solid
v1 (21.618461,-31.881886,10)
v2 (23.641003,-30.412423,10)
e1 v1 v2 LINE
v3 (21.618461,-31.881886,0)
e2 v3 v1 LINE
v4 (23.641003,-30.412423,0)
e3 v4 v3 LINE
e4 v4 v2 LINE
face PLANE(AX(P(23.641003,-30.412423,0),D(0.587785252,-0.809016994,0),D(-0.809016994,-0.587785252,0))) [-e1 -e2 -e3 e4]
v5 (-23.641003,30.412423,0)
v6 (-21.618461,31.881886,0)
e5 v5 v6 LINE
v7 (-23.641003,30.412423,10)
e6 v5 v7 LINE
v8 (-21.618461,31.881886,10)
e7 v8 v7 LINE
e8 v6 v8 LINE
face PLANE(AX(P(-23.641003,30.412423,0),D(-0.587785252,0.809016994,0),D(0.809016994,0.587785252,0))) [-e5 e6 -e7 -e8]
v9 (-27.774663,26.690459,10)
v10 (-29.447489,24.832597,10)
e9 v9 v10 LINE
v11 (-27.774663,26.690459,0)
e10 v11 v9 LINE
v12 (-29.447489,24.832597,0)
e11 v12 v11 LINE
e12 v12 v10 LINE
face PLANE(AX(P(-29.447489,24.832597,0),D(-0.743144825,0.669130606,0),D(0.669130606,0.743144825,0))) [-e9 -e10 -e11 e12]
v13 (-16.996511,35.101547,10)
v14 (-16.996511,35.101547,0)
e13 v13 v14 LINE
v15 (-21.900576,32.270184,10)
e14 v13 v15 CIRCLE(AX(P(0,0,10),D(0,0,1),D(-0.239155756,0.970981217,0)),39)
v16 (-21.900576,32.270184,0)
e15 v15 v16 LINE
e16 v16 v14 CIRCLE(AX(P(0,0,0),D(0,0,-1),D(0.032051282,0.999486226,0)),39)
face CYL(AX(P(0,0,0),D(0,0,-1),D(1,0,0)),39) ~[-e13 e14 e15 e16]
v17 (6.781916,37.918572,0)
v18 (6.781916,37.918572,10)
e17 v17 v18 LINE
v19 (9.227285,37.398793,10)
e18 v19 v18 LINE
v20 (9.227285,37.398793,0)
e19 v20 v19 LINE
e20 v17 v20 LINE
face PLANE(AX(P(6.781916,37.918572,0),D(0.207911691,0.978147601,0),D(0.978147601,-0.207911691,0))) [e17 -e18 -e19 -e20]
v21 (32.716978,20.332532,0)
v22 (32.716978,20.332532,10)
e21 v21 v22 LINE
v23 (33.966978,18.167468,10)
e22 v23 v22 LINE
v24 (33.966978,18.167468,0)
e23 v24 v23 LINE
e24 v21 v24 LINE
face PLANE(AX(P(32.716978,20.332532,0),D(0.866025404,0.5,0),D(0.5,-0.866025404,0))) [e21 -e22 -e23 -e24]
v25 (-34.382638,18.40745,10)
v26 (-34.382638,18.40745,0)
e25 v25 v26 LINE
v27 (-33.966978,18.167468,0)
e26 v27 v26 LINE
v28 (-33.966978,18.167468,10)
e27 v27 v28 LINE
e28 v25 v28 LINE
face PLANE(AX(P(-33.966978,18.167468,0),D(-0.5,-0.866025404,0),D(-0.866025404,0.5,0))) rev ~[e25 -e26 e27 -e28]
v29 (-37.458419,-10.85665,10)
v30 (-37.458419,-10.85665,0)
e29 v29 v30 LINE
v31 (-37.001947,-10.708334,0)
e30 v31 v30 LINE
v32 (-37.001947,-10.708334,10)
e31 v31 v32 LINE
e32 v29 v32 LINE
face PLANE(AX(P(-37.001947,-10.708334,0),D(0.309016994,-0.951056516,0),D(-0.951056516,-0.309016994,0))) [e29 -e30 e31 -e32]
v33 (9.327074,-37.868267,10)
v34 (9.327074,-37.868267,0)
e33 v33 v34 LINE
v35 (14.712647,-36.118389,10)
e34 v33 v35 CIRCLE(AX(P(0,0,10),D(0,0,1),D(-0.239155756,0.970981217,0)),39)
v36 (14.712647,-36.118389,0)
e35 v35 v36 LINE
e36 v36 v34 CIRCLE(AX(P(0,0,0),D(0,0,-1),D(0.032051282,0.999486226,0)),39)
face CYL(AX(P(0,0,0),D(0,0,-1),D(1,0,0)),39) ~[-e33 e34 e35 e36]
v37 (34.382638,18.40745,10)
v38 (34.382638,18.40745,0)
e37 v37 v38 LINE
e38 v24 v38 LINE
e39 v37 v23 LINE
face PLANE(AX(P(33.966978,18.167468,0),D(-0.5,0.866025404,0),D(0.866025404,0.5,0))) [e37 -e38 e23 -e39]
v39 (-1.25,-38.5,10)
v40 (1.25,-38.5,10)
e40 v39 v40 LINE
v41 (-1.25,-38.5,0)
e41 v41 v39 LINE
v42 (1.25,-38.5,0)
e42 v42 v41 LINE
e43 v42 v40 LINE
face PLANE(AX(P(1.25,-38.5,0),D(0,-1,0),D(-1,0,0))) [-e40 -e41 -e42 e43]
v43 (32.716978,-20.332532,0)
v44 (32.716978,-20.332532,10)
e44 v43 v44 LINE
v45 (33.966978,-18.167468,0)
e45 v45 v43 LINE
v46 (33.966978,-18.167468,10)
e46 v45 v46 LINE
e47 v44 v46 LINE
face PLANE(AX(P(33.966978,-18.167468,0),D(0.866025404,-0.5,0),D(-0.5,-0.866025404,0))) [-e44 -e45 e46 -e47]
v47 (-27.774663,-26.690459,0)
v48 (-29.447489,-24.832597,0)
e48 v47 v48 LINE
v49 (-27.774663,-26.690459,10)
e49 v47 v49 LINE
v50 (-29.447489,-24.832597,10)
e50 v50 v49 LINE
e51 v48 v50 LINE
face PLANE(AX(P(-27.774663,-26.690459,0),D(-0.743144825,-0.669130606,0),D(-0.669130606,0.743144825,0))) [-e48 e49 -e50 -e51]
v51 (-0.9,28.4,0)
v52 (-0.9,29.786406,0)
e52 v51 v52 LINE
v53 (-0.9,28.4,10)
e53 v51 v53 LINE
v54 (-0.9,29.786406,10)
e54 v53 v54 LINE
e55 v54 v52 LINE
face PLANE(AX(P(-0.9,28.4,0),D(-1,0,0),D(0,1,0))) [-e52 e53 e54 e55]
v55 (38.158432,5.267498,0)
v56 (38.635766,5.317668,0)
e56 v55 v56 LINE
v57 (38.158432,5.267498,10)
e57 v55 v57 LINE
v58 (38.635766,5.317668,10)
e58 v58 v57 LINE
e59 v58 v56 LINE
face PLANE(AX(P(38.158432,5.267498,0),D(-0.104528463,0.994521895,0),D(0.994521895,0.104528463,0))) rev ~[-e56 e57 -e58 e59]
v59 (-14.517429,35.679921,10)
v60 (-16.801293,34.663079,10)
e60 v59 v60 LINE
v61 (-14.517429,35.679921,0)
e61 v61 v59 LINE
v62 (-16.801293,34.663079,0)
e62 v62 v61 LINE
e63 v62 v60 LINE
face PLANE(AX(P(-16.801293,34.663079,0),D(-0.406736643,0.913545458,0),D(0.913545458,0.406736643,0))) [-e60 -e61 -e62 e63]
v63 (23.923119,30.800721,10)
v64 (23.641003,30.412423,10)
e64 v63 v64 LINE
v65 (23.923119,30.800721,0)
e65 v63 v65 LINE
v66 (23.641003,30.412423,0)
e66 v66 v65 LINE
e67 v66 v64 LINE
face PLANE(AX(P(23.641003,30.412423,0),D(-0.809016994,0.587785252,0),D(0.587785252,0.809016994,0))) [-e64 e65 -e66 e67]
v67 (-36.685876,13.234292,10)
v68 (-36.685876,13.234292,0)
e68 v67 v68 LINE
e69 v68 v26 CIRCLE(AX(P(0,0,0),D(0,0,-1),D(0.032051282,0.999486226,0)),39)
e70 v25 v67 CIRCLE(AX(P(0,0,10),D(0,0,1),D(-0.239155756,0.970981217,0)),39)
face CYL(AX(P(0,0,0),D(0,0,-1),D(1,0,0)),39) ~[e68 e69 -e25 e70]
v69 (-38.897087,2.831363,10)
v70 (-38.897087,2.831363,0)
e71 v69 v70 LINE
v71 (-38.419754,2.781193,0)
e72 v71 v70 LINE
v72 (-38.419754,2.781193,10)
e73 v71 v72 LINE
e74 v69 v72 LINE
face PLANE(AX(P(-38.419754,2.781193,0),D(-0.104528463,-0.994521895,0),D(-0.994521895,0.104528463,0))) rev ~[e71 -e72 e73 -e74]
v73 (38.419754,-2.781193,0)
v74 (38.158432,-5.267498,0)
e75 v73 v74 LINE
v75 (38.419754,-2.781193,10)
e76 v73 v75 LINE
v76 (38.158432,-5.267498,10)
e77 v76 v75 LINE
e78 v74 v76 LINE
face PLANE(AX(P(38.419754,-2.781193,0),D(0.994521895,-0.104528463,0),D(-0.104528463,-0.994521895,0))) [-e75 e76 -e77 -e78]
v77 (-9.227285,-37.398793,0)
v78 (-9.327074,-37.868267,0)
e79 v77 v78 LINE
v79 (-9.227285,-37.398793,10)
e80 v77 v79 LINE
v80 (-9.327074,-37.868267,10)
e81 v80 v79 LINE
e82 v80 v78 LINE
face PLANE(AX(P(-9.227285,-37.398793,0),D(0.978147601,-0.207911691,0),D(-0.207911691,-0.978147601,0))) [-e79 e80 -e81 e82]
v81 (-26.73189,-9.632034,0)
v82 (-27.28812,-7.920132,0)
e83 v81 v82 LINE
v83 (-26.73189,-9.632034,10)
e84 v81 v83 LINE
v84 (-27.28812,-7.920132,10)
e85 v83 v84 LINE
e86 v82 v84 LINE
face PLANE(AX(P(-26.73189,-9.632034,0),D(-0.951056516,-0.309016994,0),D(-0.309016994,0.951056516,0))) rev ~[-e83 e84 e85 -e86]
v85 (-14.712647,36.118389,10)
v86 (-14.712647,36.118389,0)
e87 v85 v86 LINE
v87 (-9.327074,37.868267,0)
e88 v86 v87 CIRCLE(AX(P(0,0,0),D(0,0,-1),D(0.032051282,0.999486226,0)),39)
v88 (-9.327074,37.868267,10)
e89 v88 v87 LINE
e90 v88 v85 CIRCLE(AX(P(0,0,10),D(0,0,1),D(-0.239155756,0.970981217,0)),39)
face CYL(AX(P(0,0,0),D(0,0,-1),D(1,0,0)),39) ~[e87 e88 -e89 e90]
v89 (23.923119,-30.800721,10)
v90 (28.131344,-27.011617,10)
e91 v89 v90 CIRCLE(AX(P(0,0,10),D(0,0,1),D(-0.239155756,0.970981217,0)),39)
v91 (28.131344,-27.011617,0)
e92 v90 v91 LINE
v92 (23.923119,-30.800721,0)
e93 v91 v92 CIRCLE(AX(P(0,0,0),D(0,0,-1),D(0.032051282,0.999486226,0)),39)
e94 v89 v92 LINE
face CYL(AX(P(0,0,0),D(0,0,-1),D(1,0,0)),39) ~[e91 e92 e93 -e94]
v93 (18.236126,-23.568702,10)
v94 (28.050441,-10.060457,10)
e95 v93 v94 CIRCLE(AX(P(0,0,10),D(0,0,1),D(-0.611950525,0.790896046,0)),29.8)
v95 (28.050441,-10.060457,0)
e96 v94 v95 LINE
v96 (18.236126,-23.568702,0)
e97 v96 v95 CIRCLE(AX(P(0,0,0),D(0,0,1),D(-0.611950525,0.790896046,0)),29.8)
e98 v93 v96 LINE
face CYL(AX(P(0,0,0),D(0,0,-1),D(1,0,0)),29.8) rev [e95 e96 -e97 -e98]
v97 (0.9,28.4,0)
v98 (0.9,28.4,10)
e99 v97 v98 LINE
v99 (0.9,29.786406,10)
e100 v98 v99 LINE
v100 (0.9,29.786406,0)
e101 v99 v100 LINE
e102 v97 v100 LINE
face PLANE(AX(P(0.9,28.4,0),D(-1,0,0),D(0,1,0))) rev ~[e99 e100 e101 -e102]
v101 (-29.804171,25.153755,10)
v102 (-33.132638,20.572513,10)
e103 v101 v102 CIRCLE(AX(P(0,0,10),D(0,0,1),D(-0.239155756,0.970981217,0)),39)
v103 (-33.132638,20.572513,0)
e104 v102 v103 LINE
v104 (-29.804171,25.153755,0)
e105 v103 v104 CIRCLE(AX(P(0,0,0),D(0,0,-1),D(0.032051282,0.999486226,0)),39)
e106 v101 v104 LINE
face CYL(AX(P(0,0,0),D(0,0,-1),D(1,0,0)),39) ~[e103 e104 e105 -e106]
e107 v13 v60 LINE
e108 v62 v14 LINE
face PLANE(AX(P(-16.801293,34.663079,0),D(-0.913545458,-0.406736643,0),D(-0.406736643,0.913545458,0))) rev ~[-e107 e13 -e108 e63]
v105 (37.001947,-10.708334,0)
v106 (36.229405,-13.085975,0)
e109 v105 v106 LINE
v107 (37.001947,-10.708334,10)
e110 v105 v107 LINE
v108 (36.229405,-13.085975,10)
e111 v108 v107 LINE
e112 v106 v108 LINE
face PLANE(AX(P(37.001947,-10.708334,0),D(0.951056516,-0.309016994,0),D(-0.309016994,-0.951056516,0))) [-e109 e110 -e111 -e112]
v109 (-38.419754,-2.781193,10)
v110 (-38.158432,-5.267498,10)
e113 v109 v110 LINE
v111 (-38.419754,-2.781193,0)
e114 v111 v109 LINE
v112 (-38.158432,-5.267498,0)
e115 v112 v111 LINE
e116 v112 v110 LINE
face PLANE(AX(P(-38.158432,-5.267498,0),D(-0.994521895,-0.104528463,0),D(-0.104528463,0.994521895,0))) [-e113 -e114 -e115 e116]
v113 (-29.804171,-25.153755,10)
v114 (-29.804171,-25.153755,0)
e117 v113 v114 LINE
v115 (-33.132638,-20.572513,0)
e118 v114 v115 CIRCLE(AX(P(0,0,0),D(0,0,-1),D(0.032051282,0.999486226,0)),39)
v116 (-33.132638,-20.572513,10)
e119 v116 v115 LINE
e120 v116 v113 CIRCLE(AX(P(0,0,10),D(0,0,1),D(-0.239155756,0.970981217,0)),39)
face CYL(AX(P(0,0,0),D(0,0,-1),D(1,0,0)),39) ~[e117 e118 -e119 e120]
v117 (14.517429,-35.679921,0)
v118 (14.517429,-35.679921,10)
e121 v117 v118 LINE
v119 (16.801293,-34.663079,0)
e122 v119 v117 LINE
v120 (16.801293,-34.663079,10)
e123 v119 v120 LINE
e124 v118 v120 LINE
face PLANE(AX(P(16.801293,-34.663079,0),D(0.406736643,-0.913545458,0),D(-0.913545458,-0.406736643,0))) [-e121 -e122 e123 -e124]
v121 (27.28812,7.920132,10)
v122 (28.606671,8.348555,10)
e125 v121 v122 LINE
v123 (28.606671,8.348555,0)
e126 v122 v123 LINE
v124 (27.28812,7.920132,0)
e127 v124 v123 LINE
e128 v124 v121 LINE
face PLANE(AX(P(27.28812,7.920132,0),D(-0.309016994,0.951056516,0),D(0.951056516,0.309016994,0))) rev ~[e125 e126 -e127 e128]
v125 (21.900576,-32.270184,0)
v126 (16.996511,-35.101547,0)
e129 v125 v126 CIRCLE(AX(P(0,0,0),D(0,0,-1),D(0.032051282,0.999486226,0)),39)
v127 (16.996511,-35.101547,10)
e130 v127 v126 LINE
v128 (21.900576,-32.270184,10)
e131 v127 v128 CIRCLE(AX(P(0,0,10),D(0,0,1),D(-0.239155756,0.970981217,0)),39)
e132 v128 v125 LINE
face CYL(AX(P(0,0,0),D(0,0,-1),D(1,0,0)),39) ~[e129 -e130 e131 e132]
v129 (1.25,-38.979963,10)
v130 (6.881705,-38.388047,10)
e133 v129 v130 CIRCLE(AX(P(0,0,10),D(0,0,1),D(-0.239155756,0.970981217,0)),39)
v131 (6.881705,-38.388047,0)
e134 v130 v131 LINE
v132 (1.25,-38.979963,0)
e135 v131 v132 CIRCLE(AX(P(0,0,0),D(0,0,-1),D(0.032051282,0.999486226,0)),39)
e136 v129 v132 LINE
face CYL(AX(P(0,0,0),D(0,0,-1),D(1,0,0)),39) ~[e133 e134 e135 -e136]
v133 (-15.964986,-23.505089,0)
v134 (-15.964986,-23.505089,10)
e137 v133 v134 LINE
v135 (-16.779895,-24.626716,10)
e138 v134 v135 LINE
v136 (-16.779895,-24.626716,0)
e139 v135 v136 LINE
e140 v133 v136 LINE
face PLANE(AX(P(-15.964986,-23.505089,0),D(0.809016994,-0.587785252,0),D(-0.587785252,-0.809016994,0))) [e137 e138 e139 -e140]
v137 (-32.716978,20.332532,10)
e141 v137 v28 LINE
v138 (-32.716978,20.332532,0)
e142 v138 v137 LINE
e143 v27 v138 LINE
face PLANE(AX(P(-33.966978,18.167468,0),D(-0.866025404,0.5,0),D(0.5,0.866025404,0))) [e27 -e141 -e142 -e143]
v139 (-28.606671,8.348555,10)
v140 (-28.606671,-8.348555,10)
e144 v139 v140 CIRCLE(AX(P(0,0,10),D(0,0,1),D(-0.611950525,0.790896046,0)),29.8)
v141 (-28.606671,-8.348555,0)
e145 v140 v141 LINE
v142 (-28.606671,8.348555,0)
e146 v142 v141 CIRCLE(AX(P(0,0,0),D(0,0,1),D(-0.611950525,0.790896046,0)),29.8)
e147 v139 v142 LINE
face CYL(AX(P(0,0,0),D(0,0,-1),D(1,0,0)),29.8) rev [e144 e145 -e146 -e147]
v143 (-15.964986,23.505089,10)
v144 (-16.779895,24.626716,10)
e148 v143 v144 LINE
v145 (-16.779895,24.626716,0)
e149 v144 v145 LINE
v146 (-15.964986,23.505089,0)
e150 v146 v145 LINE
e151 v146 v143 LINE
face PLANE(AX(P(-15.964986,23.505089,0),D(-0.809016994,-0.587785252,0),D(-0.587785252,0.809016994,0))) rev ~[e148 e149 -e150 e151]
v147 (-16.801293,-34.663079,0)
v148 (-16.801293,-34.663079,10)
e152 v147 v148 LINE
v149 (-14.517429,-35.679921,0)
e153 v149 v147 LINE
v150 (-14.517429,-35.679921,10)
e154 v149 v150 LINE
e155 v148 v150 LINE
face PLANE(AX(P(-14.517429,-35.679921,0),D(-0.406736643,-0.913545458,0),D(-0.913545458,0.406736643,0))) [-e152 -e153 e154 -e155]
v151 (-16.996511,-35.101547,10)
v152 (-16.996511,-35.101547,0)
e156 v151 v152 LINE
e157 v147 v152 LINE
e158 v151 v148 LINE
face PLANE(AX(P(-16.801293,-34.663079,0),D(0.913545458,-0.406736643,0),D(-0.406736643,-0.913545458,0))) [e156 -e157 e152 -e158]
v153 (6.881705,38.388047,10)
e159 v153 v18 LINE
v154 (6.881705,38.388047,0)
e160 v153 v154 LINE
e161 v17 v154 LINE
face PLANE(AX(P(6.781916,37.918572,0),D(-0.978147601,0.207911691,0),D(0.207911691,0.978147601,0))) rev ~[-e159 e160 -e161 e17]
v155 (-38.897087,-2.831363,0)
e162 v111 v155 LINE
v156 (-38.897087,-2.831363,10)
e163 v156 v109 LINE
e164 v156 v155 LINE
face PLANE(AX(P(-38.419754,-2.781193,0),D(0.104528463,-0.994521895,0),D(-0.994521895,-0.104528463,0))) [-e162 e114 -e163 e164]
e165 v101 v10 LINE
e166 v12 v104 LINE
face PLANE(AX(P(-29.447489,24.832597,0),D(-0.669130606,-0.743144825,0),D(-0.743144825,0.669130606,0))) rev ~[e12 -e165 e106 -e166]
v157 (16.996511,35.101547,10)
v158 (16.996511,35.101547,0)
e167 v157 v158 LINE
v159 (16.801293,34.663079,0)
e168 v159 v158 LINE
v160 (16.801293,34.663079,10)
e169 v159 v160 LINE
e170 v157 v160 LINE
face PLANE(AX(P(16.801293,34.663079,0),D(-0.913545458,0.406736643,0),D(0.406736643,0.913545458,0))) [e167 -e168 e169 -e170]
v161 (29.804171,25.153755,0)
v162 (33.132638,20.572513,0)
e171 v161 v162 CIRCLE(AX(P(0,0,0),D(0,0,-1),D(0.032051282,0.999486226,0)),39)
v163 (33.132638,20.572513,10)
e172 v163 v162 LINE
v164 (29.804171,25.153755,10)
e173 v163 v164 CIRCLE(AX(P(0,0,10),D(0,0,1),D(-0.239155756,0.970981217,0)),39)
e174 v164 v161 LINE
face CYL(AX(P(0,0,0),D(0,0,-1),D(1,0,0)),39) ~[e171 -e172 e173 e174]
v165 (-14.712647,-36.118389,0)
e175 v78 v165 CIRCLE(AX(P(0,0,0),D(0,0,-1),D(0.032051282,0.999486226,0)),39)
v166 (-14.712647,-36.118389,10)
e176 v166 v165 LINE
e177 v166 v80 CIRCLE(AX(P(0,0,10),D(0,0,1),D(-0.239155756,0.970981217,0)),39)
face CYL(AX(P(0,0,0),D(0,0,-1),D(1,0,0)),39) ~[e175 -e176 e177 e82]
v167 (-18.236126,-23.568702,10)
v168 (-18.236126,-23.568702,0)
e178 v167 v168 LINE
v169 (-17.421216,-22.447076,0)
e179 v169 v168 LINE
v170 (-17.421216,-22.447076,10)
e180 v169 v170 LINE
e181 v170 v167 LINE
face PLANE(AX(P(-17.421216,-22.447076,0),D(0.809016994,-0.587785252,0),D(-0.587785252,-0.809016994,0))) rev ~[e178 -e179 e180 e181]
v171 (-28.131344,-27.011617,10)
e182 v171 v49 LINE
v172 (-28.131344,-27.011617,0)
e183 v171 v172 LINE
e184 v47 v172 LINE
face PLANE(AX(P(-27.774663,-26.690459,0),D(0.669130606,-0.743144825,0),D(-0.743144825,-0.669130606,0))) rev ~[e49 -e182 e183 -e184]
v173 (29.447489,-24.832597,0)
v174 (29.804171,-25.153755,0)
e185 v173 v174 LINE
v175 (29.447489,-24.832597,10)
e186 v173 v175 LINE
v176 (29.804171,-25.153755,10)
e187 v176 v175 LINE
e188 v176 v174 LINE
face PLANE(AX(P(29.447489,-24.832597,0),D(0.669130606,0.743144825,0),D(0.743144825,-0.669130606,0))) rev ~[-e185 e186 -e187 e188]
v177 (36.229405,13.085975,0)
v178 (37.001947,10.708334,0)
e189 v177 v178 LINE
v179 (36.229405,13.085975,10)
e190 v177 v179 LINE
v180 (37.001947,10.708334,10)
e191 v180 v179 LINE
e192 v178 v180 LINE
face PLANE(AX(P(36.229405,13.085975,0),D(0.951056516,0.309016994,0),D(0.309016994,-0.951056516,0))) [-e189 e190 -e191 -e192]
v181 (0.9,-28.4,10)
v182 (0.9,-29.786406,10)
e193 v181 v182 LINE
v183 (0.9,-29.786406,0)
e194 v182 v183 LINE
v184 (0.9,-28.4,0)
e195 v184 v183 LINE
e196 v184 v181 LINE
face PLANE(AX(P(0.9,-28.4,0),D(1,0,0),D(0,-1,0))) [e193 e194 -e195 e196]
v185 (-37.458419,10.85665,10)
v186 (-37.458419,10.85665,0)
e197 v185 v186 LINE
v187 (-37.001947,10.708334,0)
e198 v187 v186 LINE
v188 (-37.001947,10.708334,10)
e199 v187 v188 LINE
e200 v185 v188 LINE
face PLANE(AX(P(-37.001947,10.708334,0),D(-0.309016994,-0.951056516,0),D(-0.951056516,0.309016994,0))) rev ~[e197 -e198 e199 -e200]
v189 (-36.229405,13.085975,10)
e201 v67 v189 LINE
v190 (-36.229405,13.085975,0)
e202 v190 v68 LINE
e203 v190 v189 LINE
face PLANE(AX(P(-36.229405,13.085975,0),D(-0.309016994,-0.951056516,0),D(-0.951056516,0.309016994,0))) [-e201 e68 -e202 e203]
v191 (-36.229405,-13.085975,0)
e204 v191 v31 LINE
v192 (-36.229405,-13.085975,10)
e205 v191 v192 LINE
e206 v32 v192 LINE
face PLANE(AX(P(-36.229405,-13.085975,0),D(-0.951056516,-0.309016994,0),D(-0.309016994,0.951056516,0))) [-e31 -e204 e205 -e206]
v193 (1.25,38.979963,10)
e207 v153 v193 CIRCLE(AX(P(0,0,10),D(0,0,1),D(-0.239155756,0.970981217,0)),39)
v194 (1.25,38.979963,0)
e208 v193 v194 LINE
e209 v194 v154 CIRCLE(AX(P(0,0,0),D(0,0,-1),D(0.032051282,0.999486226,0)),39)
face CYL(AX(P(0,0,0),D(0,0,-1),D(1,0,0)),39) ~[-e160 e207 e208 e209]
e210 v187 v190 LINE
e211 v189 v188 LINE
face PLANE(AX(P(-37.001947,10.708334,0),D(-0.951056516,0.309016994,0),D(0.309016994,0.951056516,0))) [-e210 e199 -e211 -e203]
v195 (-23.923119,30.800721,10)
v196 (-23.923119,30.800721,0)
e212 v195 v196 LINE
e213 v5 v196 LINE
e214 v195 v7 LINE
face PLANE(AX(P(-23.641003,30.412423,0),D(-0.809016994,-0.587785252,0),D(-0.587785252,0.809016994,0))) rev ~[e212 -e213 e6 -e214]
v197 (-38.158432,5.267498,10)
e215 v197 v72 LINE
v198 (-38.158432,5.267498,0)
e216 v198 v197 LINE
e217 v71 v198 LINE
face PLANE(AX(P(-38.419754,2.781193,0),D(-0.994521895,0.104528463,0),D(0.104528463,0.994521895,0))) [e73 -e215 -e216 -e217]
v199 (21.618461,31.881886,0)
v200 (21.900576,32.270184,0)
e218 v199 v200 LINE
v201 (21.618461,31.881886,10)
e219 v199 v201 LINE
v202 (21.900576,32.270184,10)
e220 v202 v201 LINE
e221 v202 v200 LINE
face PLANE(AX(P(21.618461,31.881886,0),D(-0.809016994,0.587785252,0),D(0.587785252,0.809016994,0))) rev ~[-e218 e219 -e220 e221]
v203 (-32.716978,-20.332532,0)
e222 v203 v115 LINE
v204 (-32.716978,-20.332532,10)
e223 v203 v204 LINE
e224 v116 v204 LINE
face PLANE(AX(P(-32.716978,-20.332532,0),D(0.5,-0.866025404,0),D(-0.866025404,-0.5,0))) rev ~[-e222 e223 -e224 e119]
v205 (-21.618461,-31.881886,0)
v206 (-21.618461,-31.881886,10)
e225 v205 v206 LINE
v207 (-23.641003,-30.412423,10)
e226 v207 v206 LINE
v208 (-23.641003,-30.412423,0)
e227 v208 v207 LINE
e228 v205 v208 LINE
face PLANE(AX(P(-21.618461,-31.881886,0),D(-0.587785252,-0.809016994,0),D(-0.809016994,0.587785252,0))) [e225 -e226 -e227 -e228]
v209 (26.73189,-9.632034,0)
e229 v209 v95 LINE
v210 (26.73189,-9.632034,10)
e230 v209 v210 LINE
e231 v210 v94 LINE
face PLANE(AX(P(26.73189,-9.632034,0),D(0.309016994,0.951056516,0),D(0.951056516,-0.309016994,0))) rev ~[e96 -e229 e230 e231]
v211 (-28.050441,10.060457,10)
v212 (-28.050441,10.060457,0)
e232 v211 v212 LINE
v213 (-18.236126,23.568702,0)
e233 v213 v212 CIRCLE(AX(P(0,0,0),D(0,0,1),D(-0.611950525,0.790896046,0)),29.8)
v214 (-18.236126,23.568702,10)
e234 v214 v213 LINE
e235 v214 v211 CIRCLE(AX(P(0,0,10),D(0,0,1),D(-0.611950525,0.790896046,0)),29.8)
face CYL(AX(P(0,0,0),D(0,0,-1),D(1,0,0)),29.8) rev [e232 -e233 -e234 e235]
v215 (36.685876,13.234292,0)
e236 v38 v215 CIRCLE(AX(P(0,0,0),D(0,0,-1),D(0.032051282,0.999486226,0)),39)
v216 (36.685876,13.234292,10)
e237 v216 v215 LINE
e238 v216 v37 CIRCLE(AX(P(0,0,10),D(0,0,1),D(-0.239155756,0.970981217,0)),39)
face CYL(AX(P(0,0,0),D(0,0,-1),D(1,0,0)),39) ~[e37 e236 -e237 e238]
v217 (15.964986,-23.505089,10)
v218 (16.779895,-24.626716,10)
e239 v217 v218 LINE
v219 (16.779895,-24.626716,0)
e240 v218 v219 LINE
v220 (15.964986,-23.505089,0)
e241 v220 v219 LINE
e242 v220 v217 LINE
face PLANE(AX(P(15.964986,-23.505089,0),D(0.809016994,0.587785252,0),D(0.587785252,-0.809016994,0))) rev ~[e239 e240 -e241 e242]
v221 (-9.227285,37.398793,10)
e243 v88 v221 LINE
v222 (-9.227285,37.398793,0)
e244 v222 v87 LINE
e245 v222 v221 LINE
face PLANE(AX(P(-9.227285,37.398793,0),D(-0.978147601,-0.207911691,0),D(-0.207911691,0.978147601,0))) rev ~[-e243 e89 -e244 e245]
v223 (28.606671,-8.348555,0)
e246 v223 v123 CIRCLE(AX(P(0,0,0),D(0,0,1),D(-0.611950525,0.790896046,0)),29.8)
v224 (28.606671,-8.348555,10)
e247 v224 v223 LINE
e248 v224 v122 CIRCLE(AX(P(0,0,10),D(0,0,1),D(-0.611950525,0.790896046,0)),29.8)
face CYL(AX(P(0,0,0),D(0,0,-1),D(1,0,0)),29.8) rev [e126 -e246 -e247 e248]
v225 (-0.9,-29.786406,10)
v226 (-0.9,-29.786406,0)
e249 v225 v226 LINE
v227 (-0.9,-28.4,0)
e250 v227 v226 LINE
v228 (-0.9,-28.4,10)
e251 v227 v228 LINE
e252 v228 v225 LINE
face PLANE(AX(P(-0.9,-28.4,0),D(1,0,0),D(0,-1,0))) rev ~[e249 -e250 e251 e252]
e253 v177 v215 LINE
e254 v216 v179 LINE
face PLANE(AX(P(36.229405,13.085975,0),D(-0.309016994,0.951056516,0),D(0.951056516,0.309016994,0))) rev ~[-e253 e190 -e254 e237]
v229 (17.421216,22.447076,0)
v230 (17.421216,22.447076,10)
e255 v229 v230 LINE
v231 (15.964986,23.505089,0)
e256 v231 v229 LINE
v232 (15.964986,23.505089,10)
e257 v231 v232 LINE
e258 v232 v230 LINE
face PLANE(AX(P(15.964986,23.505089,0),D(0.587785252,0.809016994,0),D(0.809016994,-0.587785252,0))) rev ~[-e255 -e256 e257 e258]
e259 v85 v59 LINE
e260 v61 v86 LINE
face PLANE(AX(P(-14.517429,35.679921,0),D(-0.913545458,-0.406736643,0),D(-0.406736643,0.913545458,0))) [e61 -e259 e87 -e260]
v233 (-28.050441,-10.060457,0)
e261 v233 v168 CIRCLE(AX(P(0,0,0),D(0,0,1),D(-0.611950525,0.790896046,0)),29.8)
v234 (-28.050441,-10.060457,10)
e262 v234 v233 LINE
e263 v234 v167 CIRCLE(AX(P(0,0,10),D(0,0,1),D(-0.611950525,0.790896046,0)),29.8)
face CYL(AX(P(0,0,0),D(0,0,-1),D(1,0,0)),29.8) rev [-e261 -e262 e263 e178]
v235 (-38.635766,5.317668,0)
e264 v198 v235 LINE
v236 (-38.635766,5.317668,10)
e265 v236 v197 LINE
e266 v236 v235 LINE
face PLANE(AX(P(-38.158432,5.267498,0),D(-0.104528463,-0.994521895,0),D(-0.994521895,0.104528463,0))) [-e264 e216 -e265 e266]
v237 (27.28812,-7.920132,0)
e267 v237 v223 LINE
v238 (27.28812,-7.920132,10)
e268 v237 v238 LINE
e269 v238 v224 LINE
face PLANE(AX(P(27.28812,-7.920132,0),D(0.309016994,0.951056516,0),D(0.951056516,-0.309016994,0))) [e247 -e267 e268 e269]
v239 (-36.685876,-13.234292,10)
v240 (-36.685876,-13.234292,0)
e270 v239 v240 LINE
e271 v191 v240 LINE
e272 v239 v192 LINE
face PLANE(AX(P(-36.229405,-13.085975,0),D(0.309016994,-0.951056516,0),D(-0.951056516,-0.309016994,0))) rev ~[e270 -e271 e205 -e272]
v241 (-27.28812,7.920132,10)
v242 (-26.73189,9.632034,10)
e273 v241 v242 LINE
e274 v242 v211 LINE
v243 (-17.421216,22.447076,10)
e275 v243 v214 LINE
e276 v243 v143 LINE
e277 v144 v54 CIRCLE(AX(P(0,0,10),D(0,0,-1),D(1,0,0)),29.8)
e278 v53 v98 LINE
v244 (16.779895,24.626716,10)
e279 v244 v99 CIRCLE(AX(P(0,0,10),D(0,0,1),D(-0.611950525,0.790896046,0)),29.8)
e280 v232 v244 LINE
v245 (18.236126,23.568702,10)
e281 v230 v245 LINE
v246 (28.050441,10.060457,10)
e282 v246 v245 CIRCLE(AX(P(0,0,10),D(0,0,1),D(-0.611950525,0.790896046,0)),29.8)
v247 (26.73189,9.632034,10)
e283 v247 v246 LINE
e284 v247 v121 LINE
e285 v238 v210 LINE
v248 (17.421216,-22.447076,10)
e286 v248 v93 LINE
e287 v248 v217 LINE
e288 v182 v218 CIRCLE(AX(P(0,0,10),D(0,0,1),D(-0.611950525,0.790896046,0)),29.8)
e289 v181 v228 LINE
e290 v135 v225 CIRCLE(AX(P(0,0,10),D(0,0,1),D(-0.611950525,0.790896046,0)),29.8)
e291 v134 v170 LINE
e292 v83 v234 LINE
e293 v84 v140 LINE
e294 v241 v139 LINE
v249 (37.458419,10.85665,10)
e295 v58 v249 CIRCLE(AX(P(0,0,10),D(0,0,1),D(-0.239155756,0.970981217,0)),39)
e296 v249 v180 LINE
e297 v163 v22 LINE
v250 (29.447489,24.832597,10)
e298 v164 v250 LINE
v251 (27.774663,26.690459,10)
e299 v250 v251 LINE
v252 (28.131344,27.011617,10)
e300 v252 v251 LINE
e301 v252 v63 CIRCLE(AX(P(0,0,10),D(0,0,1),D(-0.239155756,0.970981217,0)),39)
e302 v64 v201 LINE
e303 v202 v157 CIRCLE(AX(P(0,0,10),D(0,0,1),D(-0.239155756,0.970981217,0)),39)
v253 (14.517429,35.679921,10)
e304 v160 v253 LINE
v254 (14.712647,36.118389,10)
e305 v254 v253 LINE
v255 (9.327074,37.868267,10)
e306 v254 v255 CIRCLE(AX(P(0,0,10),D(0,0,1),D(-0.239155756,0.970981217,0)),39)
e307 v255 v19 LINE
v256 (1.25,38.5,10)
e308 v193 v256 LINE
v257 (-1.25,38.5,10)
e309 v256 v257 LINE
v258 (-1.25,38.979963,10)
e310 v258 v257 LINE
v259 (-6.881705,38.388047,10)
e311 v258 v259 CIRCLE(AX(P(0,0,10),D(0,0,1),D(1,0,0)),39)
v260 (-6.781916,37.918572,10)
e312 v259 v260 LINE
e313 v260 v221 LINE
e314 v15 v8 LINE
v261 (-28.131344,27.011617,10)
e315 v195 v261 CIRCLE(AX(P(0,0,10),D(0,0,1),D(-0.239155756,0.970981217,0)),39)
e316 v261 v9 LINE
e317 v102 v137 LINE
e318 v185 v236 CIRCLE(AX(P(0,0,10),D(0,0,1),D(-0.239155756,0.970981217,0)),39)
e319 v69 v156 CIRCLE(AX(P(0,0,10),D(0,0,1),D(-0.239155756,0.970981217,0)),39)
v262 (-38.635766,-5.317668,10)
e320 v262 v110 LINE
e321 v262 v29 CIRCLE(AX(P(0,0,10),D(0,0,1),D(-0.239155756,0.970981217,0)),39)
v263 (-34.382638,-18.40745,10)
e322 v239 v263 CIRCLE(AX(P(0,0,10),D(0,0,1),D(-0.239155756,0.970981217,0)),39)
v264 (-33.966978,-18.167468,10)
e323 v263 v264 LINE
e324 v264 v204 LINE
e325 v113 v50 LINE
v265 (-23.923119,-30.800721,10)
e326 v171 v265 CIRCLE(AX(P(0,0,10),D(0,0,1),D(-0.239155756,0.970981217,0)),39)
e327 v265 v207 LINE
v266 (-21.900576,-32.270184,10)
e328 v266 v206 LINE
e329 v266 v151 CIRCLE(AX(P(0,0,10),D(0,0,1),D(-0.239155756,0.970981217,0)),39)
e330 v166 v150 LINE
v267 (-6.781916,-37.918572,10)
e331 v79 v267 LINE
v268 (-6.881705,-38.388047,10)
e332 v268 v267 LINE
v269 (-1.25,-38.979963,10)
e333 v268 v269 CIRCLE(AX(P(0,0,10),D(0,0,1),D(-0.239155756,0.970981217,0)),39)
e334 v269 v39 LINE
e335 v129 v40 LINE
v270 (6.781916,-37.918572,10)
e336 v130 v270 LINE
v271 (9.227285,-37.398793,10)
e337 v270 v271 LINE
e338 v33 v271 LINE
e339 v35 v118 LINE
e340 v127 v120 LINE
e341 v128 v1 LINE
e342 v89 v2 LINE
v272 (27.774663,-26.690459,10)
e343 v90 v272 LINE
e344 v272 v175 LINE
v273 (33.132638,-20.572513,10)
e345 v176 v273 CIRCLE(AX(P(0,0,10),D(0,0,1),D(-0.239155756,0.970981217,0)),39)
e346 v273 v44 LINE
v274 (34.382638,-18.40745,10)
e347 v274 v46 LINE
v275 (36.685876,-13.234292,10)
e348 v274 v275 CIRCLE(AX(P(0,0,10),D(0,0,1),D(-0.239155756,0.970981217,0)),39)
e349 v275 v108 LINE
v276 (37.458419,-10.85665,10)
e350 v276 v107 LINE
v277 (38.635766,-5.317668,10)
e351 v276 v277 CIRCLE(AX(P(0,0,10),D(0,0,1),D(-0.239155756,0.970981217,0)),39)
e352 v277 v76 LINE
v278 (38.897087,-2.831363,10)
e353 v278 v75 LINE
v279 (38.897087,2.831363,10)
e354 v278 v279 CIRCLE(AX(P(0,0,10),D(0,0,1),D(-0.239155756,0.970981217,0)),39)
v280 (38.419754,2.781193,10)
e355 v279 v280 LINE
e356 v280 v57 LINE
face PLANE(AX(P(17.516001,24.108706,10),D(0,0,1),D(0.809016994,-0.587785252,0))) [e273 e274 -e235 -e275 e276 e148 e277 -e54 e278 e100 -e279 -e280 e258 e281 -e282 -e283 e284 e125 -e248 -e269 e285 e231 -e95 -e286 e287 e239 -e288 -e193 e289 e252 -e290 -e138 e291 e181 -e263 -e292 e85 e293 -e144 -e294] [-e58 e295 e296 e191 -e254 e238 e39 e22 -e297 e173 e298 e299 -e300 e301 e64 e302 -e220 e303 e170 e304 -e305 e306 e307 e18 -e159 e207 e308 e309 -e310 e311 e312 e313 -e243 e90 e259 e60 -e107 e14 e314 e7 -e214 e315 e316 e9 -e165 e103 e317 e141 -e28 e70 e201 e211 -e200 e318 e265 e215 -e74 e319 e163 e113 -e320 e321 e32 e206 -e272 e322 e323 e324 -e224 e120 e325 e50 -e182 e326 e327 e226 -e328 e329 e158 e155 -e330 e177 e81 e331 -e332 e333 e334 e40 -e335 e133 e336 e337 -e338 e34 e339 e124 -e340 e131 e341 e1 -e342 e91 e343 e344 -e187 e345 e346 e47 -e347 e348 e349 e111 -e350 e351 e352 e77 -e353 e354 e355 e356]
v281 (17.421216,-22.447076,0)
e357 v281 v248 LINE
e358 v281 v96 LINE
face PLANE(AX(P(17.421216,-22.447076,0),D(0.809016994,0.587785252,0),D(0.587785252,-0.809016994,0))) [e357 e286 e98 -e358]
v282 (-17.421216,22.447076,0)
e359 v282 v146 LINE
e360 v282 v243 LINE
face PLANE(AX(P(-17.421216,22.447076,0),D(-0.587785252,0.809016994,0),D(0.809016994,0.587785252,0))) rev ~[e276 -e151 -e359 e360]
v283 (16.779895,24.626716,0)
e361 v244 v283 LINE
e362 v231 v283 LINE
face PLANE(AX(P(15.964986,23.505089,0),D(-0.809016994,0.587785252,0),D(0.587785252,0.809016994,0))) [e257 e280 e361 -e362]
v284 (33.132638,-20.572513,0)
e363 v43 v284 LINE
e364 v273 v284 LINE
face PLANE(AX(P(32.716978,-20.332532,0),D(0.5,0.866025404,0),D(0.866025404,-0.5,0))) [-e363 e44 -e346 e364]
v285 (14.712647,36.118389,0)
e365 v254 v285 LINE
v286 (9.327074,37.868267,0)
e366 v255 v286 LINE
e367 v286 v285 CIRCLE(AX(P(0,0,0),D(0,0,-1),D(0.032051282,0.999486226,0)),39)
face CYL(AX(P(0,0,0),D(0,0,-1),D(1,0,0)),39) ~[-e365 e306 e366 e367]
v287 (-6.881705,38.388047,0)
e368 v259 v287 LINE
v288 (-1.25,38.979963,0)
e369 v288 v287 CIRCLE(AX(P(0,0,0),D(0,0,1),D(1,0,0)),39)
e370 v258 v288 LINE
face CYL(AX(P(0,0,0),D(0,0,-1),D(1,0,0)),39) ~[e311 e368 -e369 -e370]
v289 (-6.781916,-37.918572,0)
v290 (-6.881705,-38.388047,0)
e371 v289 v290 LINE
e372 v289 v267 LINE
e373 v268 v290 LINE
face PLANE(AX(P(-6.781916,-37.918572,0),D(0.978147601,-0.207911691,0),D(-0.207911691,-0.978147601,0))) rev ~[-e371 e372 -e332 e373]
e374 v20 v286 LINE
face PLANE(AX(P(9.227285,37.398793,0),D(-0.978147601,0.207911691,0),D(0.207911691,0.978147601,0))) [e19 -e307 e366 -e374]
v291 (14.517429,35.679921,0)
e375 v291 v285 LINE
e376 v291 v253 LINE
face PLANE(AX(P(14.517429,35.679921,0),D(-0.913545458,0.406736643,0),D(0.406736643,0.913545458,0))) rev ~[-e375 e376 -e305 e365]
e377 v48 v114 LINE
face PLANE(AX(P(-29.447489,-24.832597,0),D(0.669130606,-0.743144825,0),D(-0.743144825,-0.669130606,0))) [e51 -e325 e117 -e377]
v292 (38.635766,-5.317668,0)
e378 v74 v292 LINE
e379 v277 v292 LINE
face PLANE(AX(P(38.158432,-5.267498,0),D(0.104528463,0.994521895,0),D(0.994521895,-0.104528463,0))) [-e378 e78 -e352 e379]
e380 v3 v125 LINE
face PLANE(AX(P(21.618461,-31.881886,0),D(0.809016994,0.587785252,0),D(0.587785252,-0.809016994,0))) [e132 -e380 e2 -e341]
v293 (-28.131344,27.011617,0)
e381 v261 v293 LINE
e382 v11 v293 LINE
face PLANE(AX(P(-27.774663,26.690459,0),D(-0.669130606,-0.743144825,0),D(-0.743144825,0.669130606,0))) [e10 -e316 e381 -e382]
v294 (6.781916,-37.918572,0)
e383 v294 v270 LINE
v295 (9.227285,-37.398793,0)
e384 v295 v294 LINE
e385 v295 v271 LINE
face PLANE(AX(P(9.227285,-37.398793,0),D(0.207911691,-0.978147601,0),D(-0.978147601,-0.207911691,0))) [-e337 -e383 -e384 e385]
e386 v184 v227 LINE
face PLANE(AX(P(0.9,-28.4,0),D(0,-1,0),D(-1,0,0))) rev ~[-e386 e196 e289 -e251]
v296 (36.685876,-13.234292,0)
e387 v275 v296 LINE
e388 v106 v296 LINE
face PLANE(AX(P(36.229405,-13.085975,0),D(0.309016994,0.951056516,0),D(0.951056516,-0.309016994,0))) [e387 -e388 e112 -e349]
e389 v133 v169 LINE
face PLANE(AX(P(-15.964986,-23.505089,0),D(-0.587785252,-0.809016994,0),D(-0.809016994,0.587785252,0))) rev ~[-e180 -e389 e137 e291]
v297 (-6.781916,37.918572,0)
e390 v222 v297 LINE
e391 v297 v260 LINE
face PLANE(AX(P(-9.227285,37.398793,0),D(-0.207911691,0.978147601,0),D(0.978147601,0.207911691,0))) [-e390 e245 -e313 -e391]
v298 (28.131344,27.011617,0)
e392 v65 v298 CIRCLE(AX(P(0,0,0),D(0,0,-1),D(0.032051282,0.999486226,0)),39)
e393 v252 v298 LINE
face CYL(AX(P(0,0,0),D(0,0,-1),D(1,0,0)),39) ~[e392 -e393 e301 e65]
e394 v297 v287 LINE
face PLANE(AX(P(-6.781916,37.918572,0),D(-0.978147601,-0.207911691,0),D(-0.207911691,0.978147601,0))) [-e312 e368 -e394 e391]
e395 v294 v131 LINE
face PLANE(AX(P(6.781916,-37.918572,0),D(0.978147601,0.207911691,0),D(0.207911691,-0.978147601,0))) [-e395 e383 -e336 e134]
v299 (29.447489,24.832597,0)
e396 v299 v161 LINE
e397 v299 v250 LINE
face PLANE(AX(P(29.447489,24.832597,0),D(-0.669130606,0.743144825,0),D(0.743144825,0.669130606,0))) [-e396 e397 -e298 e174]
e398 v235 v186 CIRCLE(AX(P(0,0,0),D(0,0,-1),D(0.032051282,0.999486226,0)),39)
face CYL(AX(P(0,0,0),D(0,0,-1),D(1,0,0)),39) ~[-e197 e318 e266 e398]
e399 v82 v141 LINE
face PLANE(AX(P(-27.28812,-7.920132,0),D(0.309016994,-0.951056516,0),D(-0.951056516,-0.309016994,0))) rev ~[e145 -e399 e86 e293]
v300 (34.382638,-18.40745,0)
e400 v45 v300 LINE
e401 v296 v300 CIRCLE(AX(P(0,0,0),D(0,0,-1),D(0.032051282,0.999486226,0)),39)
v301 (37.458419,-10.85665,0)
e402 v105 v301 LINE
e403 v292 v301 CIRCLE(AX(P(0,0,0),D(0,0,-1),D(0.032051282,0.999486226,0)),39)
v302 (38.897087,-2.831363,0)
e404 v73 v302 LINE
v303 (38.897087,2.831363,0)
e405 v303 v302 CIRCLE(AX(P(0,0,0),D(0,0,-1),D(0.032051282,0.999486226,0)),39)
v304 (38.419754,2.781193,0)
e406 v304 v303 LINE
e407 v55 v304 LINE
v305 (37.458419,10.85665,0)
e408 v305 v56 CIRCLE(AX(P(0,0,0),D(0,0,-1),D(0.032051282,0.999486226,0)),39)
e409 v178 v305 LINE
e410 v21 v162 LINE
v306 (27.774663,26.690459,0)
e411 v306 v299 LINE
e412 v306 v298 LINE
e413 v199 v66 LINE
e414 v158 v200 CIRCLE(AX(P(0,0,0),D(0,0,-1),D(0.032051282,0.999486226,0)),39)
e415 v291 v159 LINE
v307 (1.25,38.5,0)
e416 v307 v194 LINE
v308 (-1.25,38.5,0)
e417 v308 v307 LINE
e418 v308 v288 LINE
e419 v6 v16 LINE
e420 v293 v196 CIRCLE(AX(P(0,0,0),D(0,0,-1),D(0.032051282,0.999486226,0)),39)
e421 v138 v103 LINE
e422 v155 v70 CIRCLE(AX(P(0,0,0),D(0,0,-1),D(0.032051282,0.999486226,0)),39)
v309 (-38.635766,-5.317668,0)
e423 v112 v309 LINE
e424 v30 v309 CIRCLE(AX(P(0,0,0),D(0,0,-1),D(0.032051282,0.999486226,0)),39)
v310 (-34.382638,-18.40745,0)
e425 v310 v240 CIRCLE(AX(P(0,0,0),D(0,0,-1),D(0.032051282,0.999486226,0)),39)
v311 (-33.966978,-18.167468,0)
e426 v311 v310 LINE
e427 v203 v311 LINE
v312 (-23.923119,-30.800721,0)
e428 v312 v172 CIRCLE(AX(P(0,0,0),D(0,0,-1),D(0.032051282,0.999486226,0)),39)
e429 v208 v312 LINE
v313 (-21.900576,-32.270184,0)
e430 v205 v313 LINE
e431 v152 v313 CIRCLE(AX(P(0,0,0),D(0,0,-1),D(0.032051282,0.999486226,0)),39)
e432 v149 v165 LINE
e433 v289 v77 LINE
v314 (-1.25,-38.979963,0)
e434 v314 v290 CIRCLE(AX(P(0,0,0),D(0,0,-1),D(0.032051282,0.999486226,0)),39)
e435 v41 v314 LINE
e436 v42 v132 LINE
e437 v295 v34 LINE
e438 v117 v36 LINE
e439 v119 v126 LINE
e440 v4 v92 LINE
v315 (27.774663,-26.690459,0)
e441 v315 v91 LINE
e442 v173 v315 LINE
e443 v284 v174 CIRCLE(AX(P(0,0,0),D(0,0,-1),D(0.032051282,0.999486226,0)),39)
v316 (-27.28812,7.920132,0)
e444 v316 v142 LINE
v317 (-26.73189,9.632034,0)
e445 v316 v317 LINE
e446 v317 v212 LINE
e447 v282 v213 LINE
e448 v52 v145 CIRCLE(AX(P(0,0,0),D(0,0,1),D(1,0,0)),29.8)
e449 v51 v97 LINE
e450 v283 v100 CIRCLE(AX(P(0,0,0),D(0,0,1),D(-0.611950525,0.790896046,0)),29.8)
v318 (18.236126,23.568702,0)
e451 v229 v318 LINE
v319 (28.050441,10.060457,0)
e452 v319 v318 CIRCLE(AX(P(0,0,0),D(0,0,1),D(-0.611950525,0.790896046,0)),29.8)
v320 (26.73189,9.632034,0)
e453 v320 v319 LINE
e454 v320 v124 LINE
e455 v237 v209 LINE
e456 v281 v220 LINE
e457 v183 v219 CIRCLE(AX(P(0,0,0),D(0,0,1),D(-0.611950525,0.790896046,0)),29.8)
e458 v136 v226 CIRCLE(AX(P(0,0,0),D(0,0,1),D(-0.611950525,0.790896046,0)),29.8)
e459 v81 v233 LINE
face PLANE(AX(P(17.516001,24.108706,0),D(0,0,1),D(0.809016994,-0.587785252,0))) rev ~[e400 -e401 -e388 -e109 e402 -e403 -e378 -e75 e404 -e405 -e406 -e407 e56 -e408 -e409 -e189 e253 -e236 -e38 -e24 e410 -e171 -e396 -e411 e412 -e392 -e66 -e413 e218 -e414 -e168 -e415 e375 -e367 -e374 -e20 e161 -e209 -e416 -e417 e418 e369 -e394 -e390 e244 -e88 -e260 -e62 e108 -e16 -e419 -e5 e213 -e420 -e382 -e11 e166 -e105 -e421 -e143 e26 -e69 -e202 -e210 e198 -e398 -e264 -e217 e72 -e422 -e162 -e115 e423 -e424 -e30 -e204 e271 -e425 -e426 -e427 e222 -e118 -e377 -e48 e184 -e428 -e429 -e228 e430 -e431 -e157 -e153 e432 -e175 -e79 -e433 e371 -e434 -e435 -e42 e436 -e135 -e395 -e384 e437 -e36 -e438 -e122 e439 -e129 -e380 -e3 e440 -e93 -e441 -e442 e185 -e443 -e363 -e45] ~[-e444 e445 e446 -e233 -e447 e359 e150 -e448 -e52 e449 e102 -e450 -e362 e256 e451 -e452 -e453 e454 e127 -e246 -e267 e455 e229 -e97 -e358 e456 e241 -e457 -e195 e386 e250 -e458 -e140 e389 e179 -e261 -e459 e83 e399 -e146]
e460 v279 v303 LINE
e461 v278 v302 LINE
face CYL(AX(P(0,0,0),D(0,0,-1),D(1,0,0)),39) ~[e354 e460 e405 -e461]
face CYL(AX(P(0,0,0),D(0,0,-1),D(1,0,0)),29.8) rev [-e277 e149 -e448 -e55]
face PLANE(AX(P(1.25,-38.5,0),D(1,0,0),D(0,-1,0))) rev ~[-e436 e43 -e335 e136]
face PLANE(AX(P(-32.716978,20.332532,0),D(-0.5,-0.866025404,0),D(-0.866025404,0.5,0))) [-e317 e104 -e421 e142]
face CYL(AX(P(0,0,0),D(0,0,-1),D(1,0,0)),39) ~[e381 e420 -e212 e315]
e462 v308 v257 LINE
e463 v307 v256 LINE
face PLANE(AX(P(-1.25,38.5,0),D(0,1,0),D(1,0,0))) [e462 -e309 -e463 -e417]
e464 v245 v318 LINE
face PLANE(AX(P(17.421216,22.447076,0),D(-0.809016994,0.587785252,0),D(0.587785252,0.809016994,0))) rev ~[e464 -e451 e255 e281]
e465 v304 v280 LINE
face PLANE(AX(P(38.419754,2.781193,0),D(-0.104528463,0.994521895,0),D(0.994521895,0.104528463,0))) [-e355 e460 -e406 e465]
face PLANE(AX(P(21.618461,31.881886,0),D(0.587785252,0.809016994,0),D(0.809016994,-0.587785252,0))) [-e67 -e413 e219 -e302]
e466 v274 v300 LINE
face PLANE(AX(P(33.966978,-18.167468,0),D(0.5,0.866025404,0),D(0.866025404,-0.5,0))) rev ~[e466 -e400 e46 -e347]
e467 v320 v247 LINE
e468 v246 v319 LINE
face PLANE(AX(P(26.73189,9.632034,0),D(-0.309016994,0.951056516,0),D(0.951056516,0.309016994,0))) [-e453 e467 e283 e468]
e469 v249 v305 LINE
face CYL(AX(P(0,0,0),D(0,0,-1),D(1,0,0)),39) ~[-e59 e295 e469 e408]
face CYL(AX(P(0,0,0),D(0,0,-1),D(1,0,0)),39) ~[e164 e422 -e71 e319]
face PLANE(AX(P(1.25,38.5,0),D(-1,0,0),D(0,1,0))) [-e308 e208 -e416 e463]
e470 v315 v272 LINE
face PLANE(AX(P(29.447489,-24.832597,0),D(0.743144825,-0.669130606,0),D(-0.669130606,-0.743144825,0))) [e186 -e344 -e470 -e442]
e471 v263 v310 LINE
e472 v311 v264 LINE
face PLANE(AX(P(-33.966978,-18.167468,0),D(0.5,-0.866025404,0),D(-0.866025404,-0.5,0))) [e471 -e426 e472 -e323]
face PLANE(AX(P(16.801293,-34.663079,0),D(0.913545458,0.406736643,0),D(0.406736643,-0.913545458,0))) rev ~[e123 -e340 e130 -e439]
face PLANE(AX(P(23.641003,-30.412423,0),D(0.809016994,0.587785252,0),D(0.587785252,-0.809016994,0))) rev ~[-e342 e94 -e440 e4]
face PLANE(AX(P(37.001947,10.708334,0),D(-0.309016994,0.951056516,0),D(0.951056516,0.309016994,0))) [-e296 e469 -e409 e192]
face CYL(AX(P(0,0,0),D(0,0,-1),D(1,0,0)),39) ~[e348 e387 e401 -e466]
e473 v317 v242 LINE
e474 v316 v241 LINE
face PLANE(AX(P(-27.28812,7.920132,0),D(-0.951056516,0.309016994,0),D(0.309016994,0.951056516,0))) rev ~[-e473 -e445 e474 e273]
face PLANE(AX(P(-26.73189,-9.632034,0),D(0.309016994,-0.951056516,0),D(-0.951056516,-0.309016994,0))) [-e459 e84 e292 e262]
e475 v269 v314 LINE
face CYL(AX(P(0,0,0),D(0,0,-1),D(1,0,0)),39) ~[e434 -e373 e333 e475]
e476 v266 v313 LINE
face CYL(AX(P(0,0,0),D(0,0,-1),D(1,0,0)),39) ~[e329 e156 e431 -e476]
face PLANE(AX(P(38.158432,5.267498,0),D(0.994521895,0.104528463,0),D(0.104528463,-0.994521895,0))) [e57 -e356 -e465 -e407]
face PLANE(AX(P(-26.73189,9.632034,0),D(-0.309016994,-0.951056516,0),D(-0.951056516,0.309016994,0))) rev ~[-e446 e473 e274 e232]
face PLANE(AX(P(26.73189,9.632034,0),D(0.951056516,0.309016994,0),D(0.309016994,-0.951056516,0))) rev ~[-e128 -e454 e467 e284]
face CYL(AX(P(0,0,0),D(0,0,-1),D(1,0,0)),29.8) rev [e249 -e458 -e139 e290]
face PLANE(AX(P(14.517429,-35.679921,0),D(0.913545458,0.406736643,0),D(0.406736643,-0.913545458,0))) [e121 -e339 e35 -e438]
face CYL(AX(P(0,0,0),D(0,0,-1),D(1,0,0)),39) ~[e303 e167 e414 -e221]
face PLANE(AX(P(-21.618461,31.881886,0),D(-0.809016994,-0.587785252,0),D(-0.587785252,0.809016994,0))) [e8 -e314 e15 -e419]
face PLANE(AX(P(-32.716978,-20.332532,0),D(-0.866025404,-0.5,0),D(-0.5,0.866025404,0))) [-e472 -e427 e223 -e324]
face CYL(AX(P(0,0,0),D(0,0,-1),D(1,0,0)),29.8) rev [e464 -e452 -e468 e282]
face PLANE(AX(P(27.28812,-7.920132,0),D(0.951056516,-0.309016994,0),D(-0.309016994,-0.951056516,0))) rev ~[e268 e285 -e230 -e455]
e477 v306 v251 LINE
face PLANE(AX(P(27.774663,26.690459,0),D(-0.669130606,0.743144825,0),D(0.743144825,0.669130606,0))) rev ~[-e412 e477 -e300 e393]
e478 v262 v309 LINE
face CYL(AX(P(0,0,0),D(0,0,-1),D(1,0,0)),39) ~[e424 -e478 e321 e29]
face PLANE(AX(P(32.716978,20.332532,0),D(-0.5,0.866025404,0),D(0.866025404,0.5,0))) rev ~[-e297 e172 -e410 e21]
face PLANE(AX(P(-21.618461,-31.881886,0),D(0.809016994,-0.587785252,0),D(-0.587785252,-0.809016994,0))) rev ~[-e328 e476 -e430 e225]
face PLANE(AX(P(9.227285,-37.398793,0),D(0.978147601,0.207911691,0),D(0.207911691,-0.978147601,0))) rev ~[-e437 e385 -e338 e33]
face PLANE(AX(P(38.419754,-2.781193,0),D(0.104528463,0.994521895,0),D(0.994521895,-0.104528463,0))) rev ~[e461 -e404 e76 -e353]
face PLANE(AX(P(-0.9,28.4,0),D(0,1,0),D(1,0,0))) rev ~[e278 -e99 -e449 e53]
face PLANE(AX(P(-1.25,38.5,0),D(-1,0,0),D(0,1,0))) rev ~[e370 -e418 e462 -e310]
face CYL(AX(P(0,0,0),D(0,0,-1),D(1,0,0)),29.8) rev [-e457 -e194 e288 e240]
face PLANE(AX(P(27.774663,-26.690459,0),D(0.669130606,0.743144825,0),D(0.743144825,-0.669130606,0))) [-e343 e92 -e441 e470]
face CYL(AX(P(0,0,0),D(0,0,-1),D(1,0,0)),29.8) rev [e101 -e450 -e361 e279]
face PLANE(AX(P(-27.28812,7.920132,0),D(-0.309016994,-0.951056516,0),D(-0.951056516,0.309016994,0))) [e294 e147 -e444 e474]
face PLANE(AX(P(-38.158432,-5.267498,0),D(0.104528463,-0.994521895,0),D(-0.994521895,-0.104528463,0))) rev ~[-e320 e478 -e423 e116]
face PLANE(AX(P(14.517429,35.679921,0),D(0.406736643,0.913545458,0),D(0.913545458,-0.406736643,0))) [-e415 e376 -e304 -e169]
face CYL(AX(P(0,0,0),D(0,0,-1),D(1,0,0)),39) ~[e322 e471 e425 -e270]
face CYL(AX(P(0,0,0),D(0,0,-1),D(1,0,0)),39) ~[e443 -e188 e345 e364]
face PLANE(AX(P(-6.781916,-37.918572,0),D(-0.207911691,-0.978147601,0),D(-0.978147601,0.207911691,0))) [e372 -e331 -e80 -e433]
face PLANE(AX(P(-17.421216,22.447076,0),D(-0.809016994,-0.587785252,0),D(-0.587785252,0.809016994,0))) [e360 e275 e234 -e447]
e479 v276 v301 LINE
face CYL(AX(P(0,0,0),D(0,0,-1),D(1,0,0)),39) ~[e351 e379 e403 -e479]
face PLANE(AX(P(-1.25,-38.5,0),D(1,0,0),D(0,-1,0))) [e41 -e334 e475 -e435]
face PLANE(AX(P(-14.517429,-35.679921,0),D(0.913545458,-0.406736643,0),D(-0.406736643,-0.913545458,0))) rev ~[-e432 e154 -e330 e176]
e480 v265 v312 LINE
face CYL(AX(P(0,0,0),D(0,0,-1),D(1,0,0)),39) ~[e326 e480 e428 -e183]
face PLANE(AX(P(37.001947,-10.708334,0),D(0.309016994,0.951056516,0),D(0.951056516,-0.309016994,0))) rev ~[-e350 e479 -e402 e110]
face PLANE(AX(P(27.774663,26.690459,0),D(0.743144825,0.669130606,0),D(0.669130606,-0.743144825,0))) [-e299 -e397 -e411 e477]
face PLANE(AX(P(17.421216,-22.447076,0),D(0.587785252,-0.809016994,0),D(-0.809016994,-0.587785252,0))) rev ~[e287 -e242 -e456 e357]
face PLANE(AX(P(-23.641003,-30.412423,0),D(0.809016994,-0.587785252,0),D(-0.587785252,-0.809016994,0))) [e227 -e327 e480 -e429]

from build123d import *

# Parameters (mm, degrees)
SKETCH2_R           = 39
BOSS_EXTRUDE1_DEPTH = 10
SKETCH3_R           = 29.8
CUT_EXTRUDE1_DEPTH  = 57.053545829
SKETCH4_W           = 1.8
SKETCH4_H           = 2.8
BOSS_EXTRUDE2_DEPTH = 10
CIRPATTERN1_COUNT   = 10
SKETCH5_W           = 2.5
SKETCH5_H           = 1
CUT_EXTRUDE2_DEPTH  = 57.053545829
CIRPATTERN3_COUNT   = 30


with BuildPart() as part:
    # Sketch2 → Boss-Extrude1 (new body)
    with BuildSketch(Plane.XY):
        Circle(SKETCH2_R)
    extrude(amount=BOSS_EXTRUDE1_DEPTH)

    # Sketch3 → Cut-Extrude1 (cut, through all)
    with BuildSketch(Plane.XY):
        Circle(SKETCH3_R)
    extrude(amount=CUT_EXTRUDE1_DEPTH, mode=Mode.SUBTRACT)

    # Sketch4 → Boss-Extrude2 (add)
    with BuildSketch(Plane.XY):
        with Locations((0, 29.8)):
            Rectangle(SKETCH4_W, SKETCH4_H)
    boss_extrude2 = extrude(amount=BOSS_EXTRUDE2_DEPTH)

    # CirPattern1: Boss-Extrude2 ×10 about axis
    cirpattern1_axis = Axis((0, 0, 0), (0, 0, 1))
    for i in range(1, CIRPATTERN1_COUNT):
        add(boss_extrude2.rotate(cirpattern1_axis, i * 360 / CIRPATTERN1_COUNT))

    # Sketch5 → Cut-Extrude2 (cut, through all)
    with BuildSketch(Plane.XY):
        with Locations((0, 39)):
            Rectangle(SKETCH5_W, SKETCH5_H)
    cut_extrude2 = extrude(amount=CUT_EXTRUDE2_DEPTH, mode=Mode.SUBTRACT)

    # CirPattern3: Cut-Extrude2 ×30 about axis
    cirpattern3_axis = Axis((0, 0, 0), (0, 0, 1))
    for i in range(1, CIRPATTERN3_COUNT):
        add(cut_extrude2.rotate(cirpattern3_axis, i * 360 / CIRPATTERN3_COUNT), mode=Mode.SUBTRACT)


solid = part.part
